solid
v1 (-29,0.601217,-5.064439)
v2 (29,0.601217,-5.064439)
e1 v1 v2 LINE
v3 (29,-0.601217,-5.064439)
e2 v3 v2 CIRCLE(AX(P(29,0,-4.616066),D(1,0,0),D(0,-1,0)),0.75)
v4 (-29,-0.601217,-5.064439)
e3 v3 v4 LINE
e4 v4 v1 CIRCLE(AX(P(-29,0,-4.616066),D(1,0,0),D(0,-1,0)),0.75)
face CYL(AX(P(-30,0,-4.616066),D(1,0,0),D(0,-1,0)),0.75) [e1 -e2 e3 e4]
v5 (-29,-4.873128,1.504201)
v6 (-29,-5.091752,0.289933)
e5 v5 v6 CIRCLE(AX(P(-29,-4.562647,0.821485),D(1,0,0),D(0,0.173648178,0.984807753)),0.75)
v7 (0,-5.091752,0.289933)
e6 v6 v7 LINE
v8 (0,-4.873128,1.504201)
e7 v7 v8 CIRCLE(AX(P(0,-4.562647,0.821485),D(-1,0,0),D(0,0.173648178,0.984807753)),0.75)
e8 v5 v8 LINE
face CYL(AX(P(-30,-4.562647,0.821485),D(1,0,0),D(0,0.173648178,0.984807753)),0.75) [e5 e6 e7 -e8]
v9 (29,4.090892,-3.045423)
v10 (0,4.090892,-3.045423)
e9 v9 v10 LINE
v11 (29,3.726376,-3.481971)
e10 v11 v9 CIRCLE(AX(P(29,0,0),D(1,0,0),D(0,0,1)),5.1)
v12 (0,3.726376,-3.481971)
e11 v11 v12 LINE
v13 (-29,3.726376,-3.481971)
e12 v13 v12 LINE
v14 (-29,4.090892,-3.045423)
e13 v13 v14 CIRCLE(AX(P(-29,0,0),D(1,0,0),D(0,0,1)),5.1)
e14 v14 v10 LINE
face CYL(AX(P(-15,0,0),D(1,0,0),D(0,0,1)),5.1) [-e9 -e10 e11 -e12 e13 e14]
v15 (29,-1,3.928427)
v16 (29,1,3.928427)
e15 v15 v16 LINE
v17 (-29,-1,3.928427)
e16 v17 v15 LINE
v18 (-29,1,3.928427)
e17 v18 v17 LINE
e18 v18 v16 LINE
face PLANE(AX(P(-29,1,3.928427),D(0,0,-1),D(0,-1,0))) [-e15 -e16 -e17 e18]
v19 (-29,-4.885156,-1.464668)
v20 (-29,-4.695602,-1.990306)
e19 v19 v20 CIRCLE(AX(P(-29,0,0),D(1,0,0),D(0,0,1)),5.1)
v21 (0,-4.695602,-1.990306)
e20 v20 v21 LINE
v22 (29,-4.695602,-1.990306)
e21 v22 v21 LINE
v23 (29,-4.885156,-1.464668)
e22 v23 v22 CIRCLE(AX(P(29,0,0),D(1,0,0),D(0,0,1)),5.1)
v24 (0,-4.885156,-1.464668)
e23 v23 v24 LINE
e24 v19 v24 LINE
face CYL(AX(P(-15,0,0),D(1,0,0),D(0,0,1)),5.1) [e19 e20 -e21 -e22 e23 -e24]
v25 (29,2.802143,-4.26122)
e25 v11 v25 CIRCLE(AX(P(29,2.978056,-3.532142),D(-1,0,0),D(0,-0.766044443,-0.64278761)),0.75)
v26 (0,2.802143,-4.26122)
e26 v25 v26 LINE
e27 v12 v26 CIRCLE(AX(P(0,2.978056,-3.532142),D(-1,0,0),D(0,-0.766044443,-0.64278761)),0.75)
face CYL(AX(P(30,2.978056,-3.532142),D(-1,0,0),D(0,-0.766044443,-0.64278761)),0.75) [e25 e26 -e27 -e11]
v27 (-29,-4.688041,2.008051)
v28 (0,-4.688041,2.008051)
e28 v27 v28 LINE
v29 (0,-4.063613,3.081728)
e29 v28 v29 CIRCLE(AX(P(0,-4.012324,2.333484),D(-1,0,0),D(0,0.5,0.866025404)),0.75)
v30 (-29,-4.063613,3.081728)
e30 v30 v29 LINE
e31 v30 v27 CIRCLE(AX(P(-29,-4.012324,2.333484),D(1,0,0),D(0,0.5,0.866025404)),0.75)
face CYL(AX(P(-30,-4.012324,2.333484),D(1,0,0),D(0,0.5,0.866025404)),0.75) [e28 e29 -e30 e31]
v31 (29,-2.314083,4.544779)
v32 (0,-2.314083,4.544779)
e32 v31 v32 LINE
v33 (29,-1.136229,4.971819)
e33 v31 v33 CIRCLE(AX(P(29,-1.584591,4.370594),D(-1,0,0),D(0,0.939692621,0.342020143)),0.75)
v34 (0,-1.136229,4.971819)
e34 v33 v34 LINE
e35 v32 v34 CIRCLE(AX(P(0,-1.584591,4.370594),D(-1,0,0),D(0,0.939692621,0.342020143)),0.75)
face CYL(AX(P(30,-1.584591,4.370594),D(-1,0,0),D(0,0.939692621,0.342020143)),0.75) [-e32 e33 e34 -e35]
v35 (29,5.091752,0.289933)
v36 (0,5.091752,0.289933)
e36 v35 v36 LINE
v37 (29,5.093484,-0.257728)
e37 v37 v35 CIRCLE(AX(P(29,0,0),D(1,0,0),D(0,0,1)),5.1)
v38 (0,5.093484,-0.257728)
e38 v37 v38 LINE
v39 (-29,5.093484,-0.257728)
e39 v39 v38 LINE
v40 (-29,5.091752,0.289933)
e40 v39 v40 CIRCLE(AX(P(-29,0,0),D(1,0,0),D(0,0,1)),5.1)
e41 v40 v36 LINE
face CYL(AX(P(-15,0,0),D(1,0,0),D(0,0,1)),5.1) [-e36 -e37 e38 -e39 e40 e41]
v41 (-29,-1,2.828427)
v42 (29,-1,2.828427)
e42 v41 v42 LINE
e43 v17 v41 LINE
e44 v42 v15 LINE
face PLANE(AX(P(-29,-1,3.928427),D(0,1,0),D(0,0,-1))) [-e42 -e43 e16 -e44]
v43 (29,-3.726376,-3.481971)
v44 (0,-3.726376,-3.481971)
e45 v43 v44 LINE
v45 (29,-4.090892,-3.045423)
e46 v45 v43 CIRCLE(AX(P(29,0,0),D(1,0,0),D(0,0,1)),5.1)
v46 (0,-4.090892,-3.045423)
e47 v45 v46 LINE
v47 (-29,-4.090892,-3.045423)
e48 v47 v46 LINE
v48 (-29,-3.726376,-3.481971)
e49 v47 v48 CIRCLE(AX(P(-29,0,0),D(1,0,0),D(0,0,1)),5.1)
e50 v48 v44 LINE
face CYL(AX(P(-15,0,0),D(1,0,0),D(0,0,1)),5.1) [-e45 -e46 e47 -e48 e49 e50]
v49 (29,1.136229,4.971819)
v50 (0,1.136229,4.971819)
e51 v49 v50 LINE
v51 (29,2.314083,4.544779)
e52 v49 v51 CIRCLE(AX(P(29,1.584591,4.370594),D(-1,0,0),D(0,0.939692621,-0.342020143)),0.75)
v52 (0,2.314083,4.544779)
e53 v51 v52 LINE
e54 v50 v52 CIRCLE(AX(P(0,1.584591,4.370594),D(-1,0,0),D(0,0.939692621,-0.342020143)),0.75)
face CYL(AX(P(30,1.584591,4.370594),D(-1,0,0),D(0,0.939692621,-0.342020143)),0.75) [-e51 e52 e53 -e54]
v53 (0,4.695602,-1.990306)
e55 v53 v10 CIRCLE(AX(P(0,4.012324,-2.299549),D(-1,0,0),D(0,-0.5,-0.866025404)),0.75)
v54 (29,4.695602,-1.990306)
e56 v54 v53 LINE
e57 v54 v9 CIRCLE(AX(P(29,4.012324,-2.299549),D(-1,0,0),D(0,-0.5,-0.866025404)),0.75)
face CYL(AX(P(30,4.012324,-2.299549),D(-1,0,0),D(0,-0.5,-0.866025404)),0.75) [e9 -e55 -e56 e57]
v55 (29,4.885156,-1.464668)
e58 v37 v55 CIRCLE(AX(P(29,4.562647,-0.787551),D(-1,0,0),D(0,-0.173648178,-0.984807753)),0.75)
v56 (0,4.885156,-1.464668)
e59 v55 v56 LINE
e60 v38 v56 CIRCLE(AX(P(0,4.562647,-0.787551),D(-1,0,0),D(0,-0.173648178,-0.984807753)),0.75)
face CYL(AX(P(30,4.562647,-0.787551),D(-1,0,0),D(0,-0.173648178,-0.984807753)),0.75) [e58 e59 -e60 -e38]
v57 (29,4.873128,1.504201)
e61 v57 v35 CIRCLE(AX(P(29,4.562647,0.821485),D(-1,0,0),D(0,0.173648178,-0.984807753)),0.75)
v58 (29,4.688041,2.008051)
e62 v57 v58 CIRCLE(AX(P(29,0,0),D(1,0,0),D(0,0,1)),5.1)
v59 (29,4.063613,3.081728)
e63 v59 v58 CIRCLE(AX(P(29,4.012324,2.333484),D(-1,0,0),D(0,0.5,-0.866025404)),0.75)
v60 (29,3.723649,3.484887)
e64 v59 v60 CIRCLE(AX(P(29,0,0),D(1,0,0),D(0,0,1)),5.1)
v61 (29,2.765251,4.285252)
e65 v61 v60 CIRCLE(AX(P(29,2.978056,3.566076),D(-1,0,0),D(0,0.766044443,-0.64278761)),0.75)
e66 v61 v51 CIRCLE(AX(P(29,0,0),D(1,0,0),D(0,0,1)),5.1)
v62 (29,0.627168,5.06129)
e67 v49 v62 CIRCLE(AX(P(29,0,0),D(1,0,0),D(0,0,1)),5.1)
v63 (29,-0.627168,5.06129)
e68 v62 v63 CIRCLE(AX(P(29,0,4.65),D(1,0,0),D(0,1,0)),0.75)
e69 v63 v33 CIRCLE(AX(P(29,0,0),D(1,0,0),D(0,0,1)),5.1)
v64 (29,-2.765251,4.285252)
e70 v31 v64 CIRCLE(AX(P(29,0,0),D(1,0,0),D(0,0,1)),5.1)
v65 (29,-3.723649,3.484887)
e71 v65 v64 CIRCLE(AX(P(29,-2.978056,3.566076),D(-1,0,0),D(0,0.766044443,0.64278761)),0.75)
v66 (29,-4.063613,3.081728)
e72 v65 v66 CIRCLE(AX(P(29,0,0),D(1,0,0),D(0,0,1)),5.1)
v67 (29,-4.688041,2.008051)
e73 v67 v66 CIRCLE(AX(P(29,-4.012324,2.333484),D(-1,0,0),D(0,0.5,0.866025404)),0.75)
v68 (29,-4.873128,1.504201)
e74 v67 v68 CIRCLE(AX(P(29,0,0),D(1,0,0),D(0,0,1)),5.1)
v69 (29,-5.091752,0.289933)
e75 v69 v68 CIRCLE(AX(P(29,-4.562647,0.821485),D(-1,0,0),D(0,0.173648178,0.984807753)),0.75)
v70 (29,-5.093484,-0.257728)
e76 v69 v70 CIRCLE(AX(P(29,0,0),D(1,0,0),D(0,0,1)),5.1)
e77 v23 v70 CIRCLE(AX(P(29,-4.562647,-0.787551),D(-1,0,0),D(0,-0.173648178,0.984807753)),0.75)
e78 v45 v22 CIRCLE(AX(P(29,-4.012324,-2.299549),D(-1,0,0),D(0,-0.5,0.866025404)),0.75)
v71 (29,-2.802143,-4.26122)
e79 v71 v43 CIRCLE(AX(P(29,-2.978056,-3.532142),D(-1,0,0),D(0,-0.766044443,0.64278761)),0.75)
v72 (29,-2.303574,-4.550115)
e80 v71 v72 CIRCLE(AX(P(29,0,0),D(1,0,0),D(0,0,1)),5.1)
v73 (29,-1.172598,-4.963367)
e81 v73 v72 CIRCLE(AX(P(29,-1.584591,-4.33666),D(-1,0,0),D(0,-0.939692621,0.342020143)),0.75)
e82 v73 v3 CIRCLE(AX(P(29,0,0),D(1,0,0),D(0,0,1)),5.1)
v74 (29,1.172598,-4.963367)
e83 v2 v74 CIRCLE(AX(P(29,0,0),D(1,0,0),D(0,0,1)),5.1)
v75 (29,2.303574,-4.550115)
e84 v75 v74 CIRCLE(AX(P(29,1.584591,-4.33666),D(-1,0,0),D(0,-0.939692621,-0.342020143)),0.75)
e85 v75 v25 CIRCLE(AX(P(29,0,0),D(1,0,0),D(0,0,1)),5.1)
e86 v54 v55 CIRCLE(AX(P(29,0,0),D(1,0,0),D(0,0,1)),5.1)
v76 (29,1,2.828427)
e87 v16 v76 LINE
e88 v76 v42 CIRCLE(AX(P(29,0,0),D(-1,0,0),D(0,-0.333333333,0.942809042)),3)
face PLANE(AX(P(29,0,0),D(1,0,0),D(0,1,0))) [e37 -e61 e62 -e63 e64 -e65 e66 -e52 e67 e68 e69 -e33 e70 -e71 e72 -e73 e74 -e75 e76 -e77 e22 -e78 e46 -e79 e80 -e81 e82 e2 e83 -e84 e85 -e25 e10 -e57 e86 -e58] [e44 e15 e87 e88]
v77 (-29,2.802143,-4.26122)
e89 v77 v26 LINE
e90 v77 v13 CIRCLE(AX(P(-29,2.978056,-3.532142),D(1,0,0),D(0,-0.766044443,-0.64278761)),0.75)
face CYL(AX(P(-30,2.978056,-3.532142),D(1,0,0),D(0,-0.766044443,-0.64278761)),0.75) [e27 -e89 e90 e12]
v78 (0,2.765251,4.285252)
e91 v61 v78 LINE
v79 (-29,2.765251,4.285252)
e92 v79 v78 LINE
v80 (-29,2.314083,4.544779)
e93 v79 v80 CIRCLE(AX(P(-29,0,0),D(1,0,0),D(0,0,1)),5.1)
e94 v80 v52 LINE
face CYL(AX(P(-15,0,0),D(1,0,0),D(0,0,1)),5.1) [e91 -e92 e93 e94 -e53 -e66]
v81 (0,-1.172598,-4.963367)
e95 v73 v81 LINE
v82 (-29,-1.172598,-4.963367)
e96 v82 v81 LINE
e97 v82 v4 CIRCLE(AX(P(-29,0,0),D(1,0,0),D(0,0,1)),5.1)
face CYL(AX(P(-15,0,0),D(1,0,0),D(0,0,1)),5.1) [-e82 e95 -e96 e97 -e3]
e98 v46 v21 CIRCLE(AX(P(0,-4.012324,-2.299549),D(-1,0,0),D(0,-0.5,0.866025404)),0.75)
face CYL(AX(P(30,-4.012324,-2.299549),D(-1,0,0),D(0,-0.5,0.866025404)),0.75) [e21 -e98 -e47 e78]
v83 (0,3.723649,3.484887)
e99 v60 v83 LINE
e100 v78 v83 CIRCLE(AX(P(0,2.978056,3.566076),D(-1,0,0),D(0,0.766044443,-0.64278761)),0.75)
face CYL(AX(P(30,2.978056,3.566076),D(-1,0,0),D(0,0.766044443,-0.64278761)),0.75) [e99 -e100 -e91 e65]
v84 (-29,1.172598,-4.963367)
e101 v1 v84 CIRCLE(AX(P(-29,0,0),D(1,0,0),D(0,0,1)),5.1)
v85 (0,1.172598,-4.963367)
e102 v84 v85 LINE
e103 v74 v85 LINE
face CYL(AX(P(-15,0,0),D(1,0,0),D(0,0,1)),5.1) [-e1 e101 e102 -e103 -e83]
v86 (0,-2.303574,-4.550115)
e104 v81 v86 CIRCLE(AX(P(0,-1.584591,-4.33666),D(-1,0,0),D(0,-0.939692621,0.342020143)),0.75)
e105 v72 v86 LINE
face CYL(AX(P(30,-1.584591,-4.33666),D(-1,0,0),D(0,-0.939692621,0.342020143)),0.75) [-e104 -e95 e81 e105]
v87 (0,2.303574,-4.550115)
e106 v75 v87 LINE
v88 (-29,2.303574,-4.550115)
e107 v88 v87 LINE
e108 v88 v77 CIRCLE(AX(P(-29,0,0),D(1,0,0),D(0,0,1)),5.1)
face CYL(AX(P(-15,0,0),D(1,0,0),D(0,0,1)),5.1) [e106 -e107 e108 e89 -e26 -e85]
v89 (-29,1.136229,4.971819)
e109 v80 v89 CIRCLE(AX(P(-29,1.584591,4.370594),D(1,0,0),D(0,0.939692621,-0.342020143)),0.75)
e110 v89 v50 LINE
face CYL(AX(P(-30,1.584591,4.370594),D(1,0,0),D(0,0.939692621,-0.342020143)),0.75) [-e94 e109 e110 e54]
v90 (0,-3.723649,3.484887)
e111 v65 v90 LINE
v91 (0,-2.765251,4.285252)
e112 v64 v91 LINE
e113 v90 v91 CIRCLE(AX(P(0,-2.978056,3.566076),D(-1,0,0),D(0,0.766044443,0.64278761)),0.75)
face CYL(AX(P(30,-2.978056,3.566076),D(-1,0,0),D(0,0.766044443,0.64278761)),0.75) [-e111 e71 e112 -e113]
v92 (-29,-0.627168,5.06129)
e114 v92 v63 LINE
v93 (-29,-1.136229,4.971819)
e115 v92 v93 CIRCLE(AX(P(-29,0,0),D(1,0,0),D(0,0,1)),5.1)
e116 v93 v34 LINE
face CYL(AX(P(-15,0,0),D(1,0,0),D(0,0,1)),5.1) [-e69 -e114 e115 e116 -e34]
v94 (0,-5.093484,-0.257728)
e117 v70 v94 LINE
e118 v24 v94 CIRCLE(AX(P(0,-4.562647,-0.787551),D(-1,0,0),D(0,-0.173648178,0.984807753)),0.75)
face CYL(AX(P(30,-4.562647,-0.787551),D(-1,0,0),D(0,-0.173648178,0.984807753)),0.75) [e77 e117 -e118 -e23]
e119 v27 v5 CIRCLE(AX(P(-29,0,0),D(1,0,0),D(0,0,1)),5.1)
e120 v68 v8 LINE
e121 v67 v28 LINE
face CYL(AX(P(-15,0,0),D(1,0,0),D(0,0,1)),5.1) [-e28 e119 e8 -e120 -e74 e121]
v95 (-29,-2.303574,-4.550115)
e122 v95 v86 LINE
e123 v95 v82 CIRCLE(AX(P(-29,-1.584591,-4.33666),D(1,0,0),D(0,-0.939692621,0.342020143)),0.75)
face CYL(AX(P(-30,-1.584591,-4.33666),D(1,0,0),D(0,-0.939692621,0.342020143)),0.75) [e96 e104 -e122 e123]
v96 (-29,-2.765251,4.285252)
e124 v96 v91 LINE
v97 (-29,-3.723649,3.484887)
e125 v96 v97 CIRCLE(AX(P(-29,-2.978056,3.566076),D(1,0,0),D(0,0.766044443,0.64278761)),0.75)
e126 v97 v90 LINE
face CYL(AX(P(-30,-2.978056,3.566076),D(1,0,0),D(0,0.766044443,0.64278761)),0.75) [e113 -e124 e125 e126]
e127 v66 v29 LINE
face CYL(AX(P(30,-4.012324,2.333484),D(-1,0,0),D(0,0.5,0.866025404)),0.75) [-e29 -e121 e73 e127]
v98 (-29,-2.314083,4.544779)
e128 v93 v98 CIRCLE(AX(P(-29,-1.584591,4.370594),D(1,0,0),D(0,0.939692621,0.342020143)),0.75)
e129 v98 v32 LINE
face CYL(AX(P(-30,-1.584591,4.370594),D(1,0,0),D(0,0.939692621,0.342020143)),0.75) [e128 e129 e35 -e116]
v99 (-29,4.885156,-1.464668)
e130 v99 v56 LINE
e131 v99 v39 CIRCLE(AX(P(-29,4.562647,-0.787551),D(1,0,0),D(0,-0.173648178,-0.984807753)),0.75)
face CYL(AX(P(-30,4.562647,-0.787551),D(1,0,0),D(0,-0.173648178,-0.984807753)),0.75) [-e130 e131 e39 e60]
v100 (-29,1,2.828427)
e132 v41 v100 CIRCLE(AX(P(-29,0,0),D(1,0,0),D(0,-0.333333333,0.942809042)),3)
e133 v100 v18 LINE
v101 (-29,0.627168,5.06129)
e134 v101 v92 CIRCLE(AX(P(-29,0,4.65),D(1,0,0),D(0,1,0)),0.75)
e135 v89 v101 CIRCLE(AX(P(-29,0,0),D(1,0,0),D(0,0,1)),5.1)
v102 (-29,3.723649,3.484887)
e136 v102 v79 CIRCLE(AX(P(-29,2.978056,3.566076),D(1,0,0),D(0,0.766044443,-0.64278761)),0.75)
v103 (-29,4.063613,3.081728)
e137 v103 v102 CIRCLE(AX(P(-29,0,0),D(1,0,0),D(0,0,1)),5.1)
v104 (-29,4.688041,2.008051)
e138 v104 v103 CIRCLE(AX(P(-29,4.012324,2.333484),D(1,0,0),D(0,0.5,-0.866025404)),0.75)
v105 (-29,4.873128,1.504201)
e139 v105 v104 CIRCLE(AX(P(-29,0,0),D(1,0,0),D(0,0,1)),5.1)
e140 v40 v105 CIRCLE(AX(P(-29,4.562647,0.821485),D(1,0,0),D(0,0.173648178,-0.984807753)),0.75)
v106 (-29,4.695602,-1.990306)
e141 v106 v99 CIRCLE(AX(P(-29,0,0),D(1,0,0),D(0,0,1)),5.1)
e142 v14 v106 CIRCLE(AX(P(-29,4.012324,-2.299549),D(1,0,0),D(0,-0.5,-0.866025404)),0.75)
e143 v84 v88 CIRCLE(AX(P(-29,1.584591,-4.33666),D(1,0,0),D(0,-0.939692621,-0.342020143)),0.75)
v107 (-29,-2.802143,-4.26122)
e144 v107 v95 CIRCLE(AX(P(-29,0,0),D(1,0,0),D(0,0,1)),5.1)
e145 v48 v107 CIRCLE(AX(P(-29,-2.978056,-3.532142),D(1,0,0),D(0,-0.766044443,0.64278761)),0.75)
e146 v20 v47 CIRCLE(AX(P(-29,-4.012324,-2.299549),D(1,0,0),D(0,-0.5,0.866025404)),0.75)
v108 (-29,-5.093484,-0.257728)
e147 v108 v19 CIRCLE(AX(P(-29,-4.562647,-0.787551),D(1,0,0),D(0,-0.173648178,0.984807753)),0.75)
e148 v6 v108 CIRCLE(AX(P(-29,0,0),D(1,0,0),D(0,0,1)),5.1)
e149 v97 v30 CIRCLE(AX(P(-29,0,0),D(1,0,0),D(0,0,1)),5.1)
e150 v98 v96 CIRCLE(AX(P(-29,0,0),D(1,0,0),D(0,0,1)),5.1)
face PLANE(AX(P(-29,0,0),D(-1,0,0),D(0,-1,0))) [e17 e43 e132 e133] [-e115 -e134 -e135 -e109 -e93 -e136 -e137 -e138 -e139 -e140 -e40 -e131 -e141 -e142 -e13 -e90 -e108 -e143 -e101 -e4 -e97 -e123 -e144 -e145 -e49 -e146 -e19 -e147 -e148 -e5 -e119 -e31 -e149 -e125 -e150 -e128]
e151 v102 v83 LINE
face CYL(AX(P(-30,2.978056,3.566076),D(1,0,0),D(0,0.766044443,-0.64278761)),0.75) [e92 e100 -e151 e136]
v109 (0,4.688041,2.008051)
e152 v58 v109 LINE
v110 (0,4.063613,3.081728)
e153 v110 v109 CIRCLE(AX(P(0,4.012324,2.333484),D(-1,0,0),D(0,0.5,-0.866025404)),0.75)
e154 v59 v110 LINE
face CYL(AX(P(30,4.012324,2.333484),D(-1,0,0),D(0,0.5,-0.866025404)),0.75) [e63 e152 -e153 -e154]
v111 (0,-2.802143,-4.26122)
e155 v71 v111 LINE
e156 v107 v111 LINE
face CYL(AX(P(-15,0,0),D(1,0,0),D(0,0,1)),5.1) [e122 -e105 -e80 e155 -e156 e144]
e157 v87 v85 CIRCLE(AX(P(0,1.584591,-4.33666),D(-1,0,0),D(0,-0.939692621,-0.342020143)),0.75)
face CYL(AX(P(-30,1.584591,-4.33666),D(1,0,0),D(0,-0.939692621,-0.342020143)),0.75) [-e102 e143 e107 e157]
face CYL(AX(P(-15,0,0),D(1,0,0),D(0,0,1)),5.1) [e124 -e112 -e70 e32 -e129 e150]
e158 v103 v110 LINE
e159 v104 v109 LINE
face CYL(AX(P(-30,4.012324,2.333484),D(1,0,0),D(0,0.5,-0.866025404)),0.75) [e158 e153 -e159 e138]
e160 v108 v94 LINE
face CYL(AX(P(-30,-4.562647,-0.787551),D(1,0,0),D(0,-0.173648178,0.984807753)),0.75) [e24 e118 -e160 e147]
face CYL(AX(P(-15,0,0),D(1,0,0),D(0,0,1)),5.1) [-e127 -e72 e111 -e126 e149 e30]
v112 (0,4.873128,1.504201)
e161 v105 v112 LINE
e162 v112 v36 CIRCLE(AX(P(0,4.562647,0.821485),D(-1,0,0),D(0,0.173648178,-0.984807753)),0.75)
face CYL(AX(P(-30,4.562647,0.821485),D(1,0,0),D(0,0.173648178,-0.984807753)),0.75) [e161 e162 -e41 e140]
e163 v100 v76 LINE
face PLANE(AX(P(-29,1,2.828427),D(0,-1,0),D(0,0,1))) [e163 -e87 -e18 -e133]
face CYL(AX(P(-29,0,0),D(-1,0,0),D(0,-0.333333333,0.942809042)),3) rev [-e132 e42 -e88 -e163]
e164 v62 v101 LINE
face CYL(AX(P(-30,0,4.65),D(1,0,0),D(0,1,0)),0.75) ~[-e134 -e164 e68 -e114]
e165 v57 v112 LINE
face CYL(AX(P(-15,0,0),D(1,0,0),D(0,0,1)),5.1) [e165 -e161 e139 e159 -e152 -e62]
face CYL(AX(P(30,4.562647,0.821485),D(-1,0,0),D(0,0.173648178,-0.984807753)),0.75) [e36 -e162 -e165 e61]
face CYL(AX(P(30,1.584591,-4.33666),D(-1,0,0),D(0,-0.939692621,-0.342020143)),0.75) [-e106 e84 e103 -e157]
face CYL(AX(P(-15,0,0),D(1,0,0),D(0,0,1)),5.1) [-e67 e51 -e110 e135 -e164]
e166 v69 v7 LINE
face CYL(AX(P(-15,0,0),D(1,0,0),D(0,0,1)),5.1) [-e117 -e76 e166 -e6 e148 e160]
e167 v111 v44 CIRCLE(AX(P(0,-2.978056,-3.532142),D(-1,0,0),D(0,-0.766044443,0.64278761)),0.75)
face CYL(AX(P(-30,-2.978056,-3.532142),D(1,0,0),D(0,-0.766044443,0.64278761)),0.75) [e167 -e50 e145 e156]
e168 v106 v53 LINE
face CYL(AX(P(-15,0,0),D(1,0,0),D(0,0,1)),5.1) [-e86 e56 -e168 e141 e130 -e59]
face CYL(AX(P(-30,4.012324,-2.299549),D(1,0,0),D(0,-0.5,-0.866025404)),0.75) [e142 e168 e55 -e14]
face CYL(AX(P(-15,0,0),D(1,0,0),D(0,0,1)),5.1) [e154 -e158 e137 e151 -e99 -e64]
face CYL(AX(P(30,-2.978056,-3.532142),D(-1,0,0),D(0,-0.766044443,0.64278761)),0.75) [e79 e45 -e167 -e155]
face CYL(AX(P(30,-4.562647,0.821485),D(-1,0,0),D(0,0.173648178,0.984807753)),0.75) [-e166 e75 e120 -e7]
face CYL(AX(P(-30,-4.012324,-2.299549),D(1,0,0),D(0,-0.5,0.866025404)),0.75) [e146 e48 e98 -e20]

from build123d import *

# Parameters (mm, degrees)
SKETCH1_W               = 30
SKETCH1_H               = 5.1
CIRPATTERN1_COUNT       = 18
CUT_EXTRUDE2_DEPTH      = 1
CUT_EXTRUDE2_DEPTH_BACK = 1
SKETCH13_R              = 5.864313224
CUT_EXTRUDE3_DEPTH      = 1
CUT_EXTRUDE3_DEPTH_BACK = 1
SKETCH14_R              = 6.155891313
CUT_EXTRUDE4_DEPTH      = 59.492599661


with BuildPart() as part:
    # Sketch1 → Revolve1 (revolve)
    with BuildSketch(Plane(origin=(0, 0, 0), x_dir=(-1, 0, 0), z_dir=(0, 1, 0))):
        with Locations((-15, 2.55)):
            Rectangle(SKETCH1_W, SKETCH1_H)
    revolve1 = revolve(axis=Axis((0, 0, 0), (1, 0, 0)))

    # Sweep3: sweep along a path in Sketch2
    with BuildLine(Plane(origin=(0, 0, 0), x_dir=(-1, 0, 0), z_dir=(0, 1, 0))) as sweep3_path:
        Line((-30, 5.1), (0, 5.1))
    # Sketch3 → Sweep3 (sweep)
    with BuildSketch(Plane(origin=(0, 0, 0), x_dir=(0, -1, 0), z_dir=(-1, 0, 0))):
        with BuildLine():
            Line((0.75, 4.65), (0.75, 2.55))
            ThreePointArc((0.75, 2.55), (0, 1.8), (-0.75, 2.55))
            Line((-0.75, 2.55), (-0.75, 4.65))
            ThreePointArc((-0.75, 4.65), (0, 5.4), (0.75, 4.65))
        make_face()
    sweep3 = sweep(path=sweep3_path.line)

    # CirPattern1: Sweep3 ×18 about axis
    cirpattern1_axis = Axis((0, 0, 0.01696711), (1, 0, 0))
    for i in range(1, CIRPATTERN1_COUNT):
        add(sweep3.rotate(cirpattern1_axis, i * 360 / CIRPATTERN1_COUNT))

    # Mirror1: Revolve1, Sweep3 across plane
    add(revolve1.mirror(Plane(origin=(0, 0, 0), x_dir=(0, 0, 1), z_dir=(1, 0, 0))))
    add(sweep3.mirror(Plane(origin=(0, 0, 0), x_dir=(0, 0, 1), z_dir=(1, 0, 0))))

    # Mirror1 copy 1: sweep along a path in Mirror1 copy 1 path
    with BuildLine(Plane(origin=(0, 0.005803093, 0.001023242), x_dir=(1, 0, 0), z_dir=(0, 0.9396926207859084, 0.3420201433256687))) as mirror1_copy_1_path:
        Line((-30, -5.1), (0, -5.1))
    # Mirror1 copy 1 sketch → Mirror1 copy 1 (sweep)
    with BuildSketch(Plane(origin=(0, 0.005803093, 0.001023242), x_dir=(0, -0.9396926207859084, -0.3420201433256687), z_dir=(1, 0, 0))):
        with BuildLine():
            Line((0.75, -4.65), (0.75, -2.55))
            ThreePointArc((0.75, -2.55), (0, -1.8), (-0.75, -2.55))
            Line((-0.75, -2.55), (-0.75, -4.65))
            ThreePointArc((-0.75, -4.65), (0, -5.4), (0.75, -4.65))
        make_face()
    sweep(path=mirror1_copy_1_path.line)

    # Mirror1 copy 2: sweep along a path in Mirror1 copy 2 path
    with BuildLine(Plane(origin=(0, 0.010906248, 0.00396955), x_dir=(1, 0, 0), z_dir=(0, 0.766044443118978, 0.6427876096865393))) as mirror1_copy_2_path:
        Line((-30, -5.1), (0, -5.1))
    # Mirror1 copy 2 sketch → Mirror1 copy 2 (sweep)
    with BuildSketch(Plane(origin=(0, 0.010906248, 0.00396955), x_dir=(0, -0.766044443118978, -0.6427876096865393), z_dir=(1, 0, 0))):
        with BuildLine():
            Line((0.75, -4.65), (0.75, -2.55))
            ThreePointArc((0.75, -2.55), (0, -1.8), (-0.75, -2.55))
            Line((-0.75, -2.55), (-0.75, -4.65))
            ThreePointArc((-0.75, -4.65), (0, -5.4), (0.75, -4.65))
        make_face()
    sweep(path=mirror1_copy_2_path.line)

    # Mirror1 copy 3: sweep along a path in Mirror1 copy 3 path
    with BuildLine(Plane(origin=(0, 0.014693948, 0.008483555), x_dir=(1, 0, 0), z_dir=(0, 0.5000000000000001, 0.8660254037844386))) as mirror1_copy_3_path:
        Line((-30, -5.1), (0, -5.1))
    # Mirror1 copy 3 sketch → Mirror1 copy 3 (sweep)
    with BuildSketch(Plane(origin=(0, 0.014693948, 0.008483555), x_dir=(0, -0.5000000000000001, -0.8660254037844386), z_dir=(1, 0, 0))):
        with BuildLine():
            Line((0.75, -4.65), (0.75, -2.55))
            ThreePointArc((0.75, -2.55), (0, -1.8), (-0.75, -2.55))
            Line((-0.75, -2.55), (-0.75, -4.65))
            ThreePointArc((-0.75, -4.65), (0, -5.4), (0.75, -4.65))
        make_face()
    sweep(path=mirror1_copy_3_path.line)

    # Mirror1 copy 4: sweep along a path in Mirror1 copy 4 path
    with BuildLine(Plane(origin=(0, 0.016709341, 0.014020802), x_dir=(1, 0, 0), z_dir=(0, 0.17364817766693041, 0.984807753012208))) as mirror1_copy_4_path:
        Line((-30, -5.1), (0, -5.1))
    # Mirror1 copy 4 sketch → Mirror1 copy 4 (sweep)
    with BuildSketch(Plane(origin=(0, 0.016709341, 0.014020802), x_dir=(0, -0.17364817766693041, -0.984807753012208), z_dir=(1, 0, 0))):
        with BuildLine():
            Line((0.75, -4.65), (0.75, -2.55))
            ThreePointArc((0.75, -2.55), (0, -1.8), (-0.75, -2.55))
            Line((-0.75, -2.55), (-0.75, -4.65))
            ThreePointArc((-0.75, -4.65), (0, -5.4), (0.75, -4.65))
        make_face()
    sweep(path=mirror1_copy_4_path.line)

    # Mirror1 copy 5: sweep along a path in Mirror1 copy 5 path
    with BuildLine(Plane(origin=(0, 0.016709341, 0.019913417), x_dir=(1, 0, 0), z_dir=(0, -0.1736481776669303, 0.984807753012208))) as mirror1_copy_5_path:
        Line((-30, -5.1), (0, -5.1))
    # Mirror1 copy 5 sketch → Mirror1 copy 5 (sweep)
    with BuildSketch(Plane(origin=(0, 0.016709341, 0.019913417), x_dir=(0, 0.1736481776669303, -0.984807753012208), z_dir=(1, 0, 0))):
        with BuildLine():
            Line((0.75, -4.65), (0.75, -2.55))
            ThreePointArc((0.75, -2.55), (0, -1.8), (-0.75, -2.55))
            Line((-0.75, -2.55), (-0.75, -4.65))
            ThreePointArc((-0.75, -4.65), (0, -5.4), (0.75, -4.65))
        make_face()
    sweep(path=mirror1_copy_5_path.line)

    # Mirror1 copy 6: sweep along a path in Mirror1 copy 6 path
    with BuildLine(Plane(origin=(0, 0.014693948, 0.025450665), x_dir=(1, 0, 0), z_dir=(0, -0.4999999999999998, 0.8660254037844387))) as mirror1_copy_6_path:
        Line((-30, -5.1), (0, -5.1))
    # Mirror1 copy 6 sketch → Mirror1 copy 6 (sweep)
    with BuildSketch(Plane(origin=(0, 0.014693948, 0.025450665), x_dir=(0, 0.4999999999999998, -0.8660254037844387), z_dir=(1, 0, 0))):
        with BuildLine():
            Line((0.75, -4.65), (0.75, -2.55))
            ThreePointArc((0.75, -2.55), (0, -1.8), (-0.75, -2.55))
            Line((-0.75, -2.55), (-0.75, -4.65))
            ThreePointArc((-0.75, -4.65), (0, -5.4), (0.75, -4.65))
        make_face()
    sweep(path=mirror1_copy_6_path.line)

    # Mirror1 copy 7: sweep along a path in Mirror1 copy 7 path
    with BuildLine(Plane(origin=(0, 0.010906248, 0.02996467), x_dir=(1, 0, 0), z_dir=(0, -0.7660444431189779, 0.6427876096865395))) as mirror1_copy_7_path:
        Line((-30, -5.1), (0, -5.1))
    # Mirror1 copy 7 sketch → Mirror1 copy 7 (sweep)
    with BuildSketch(Plane(origin=(0, 0.010906248, 0.02996467), x_dir=(0, 0.7660444431189779, -0.6427876096865395), z_dir=(1, 0, 0))):
        with BuildLine():
            Line((0.75, -4.65), (0.75, -2.55))
            ThreePointArc((0.75, -2.55), (0, -1.8), (-0.75, -2.55))
            Line((-0.75, -2.55), (-0.75, -4.65))
            ThreePointArc((-0.75, -4.65), (0, -5.4), (0.75, -4.65))
        make_face()
    sweep(path=mirror1_copy_7_path.line)

    # Mirror1 copy 8: sweep along a path in Mirror1 copy 8 path
    with BuildLine(Plane(origin=(0, 0.005803093, 0.032910978), x_dir=(1, 0, 0), z_dir=(0, -0.9396926207859083, 0.3420201433256689))) as mirror1_copy_8_path:
        Line((-30, -5.1), (0, -5.1))
    # Mirror1 copy 8 sketch → Mirror1 copy 8 (sweep)
    with BuildSketch(Plane(origin=(0, 0.005803093, 0.032910978), x_dir=(0, 0.9396926207859083, -0.3420201433256689), z_dir=(1, 0, 0))):
        with BuildLine():
            Line((0.75, -4.65), (0.75, -2.55))
            ThreePointArc((0.75, -2.55), (0, -1.8), (-0.75, -2.55))
            Line((-0.75, -2.55), (-0.75, -4.65))
            ThreePointArc((-0.75, -4.65), (0, -5.4), (0.75, -4.65))
        make_face()
    sweep(path=mirror1_copy_8_path.line)

    # Mirror1 copy 9: sweep along a path in Mirror1 copy 9 path
    with BuildLine(Plane(origin=(0, 0, 0.03393422), x_dir=(1, 0, 0), z_dir=(0, -1, 0))) as mirror1_copy_9_path:
        Line((-30, -5.1), (0, -5.1))
    # Mirror1 copy 9 sketch → Mirror1 copy 9 (sweep)
    with BuildSketch(Plane(origin=(0, 0, 0.03393422), x_dir=(0, 1, 0), z_dir=(1, 0, 0))):
        with BuildLine():
            Line((0.75, -4.65), (0.75, -2.55))
            ThreePointArc((0.75, -2.55), (0, -1.8), (-0.75, -2.55))
            Line((-0.75, -2.55), (-0.75, -4.65))
            ThreePointArc((-0.75, -4.65), (0, -5.4), (0.75, -4.65))
        make_face()
    sweep(path=mirror1_copy_9_path.line)

    # Mirror1 copy 10: sweep along a path in Mirror1 copy 10 path
    with BuildLine(Plane(origin=(0, -0.005803093, 0.032910978), x_dir=(1, 0, 0), z_dir=(0, -0.9396926207859084, -0.34202014332566866))) as mirror1_copy_10_path:
        Line((-30, -5.1), (0, -5.1))
    # Mirror1 copy 10 sketch → Mirror1 copy 10 (sweep)
    with BuildSketch(Plane(origin=(0, -0.005803093, 0.032910978), x_dir=(0, 0.9396926207859084, 0.34202014332566866), z_dir=(1, 0, 0))):
        with BuildLine():
            Line((0.75, -4.65), (0.75, -2.55))
            ThreePointArc((0.75, -2.55), (0, -1.8), (-0.75, -2.55))
            Line((-0.75, -2.55), (-0.75, -4.65))
            ThreePointArc((-0.75, -4.65), (0, -5.4), (0.75, -4.65))
        make_face()
    sweep(path=mirror1_copy_10_path.line)

    # Mirror1 copy 11: sweep along a path in Mirror1 copy 11 path
    with BuildLine(Plane(origin=(0, -0.010906248, 0.02996467), x_dir=(1, 0, 0), z_dir=(0, -0.766044443118978, -0.6427876096865393))) as mirror1_copy_11_path:
        Line((-30, -5.1), (0, -5.1))
    # Mirror1 copy 11 sketch → Mirror1 copy 11 (sweep)
    with BuildSketch(Plane(origin=(0, -0.010906248, 0.02996467), x_dir=(0, 0.766044443118978, 0.6427876096865393), z_dir=(1, 0, 0))):
        with BuildLine():
            Line((0.75, -4.65), (0.75, -2.55))
            ThreePointArc((0.75, -2.55), (0, -1.8), (-0.75, -2.55))
            Line((-0.75, -2.55), (-0.75, -4.65))
            ThreePointArc((-0.75, -4.65), (0, -5.4), (0.75, -4.65))
        make_face()
    sweep(path=mirror1_copy_11_path.line)

    # Mirror1 copy 12: sweep along a path in Mirror1 copy 12 path
    with BuildLine(Plane(origin=(0, -0.014693948, 0.025450665), x_dir=(1, 0, 0), z_dir=(0, -0.5000000000000004, -0.8660254037844384))) as mirror1_copy_12_path:
        Line((-30, -5.1), (0, -5.1))
    # Mirror1 copy 12 sketch → Mirror1 copy 12 (sweep)
    with BuildSketch(Plane(origin=(0, -0.014693948, 0.025450665), x_dir=(0, 0.5000000000000004, 0.8660254037844384), z_dir=(1, 0, 0))):
        with BuildLine():
            Line((0.75, -4.65), (0.75, -2.55))
            ThreePointArc((0.75, -2.55), (0, -1.8), (-0.75, -2.55))
            Line((-0.75, -2.55), (-0.75, -4.65))
            ThreePointArc((-0.75, -4.65), (0, -5.4), (0.75, -4.65))
        make_face()
    sweep(path=mirror1_copy_12_path.line)

    # Mirror1 copy 13: sweep along a path in Mirror1 copy 13 path
    with BuildLine(Plane(origin=(0, -0.016709341, 0.019913417), x_dir=(1, 0, 0), z_dir=(0, -0.17364817766693033, -0.984807753012208))) as mirror1_copy_13_path:
        Line((-30, -5.1), (0, -5.1))
    # Mirror1 copy 13 sketch → Mirror1 copy 13 (sweep)
    with BuildSketch(Plane(origin=(0, -0.016709341, 0.019913417), x_dir=(0, 0.17364817766693033, 0.984807753012208), z_dir=(1, 0, 0))):
        with BuildLine():
            Line((0.75, -4.65), (0.75, -2.55))
            ThreePointArc((0.75, -2.55), (0, -1.8), (-0.75, -2.55))
            Line((-0.75, -2.55), (-0.75, -4.65))
            ThreePointArc((-0.75, -4.65), (0, -5.4), (0.75, -4.65))
        make_face()
    sweep(path=mirror1_copy_13_path.line)

    # Mirror1 copy 14: sweep along a path in Mirror1 copy 14 path
    with BuildLine(Plane(origin=(0, -0.016709341, 0.014020802), x_dir=(1, 0, 0), z_dir=(0, 0.17364817766692997, -0.9848077530122081))) as mirror1_copy_14_path:
        Line((-30, -5.1), (0, -5.1))
    # Mirror1 copy 14 sketch → Mirror1 copy 14 (sweep)
    with BuildSketch(Plane(origin=(0, -0.016709341, 0.014020802), x_dir=(0, -0.17364817766692997, 0.9848077530122081), z_dir=(1, 0, 0))):
        with BuildLine():
            Line((0.75, -4.65), (0.75, -2.55))
            ThreePointArc((0.75, -2.55), (0, -1.8), (-0.75, -2.55))
            Line((-0.75, -2.55), (-0.75, -4.65))
            ThreePointArc((-0.75, -4.65), (0, -5.4), (0.75, -4.65))
        make_face()
    sweep(path=mirror1_copy_14_path.line)

    # Mirror1 copy 15: sweep along a path in Mirror1 copy 15 path
    with BuildLine(Plane(origin=(0, -0.014693948, 0.008483555), x_dir=(1, 0, 0), z_dir=(0, 0.5000000000000001, -0.8660254037844386))) as mirror1_copy_15_path:
        Line((-30, -5.1), (0, -5.1))
    # Mirror1 copy 15 sketch → Mirror1 copy 15 (sweep)
    with BuildSketch(Plane(origin=(0, -0.014693948, 0.008483555), x_dir=(0, -0.5000000000000001, 0.8660254037844386), z_dir=(1, 0, 0))):
        with BuildLine():
            Line((0.75, -4.65), (0.75, -2.55))
            ThreePointArc((0.75, -2.55), (0, -1.8), (-0.75, -2.55))
            Line((-0.75, -2.55), (-0.75, -4.65))
            ThreePointArc((-0.75, -4.65), (0, -5.4), (0.75, -4.65))
        make_face()
    sweep(path=mirror1_copy_15_path.line)

    # Mirror1 copy 16: sweep along a path in Mirror1 copy 16 path
    with BuildLine(Plane(origin=(0, -0.010906248, 0.00396955), x_dir=(1, 0, 0), z_dir=(0, 0.7660444431189778, -0.6427876096865396))) as mirror1_copy_16_path:
        Line((-30, -5.1), (0, -5.1))
    # Mirror1 copy 16 sketch → Mirror1 copy 16 (sweep)
    with BuildSketch(Plane(origin=(0, -0.010906248, 0.00396955), x_dir=(0, -0.7660444431189778, 0.6427876096865396), z_dir=(1, 0, 0))):
        with BuildLine():
            Line((0.75, -4.65), (0.75, -2.55))
            ThreePointArc((0.75, -2.55), (0, -1.8), (-0.75, -2.55))
            Line((-0.75, -2.55), (-0.75, -4.65))
            ThreePointArc((-0.75, -4.65), (0, -5.4), (0.75, -4.65))
        make_face()
    sweep(path=mirror1_copy_16_path.line)

    # Mirror1 copy 17: sweep along a path in Mirror1 copy 17 path
    with BuildLine(Plane(origin=(0, -0.005803093, 0.001023242), x_dir=(1, 0, 0), z_dir=(0, 0.9396926207859084, -0.3420201433256686))) as mirror1_copy_17_path:
        Line((-30, -5.1), (0, -5.1))
    # Mirror1 copy 17 sketch → Mirror1 copy 17 (sweep)
    with BuildSketch(Plane(origin=(0, -0.005803093, 0.001023242), x_dir=(0, -0.9396926207859084, 0.3420201433256686), z_dir=(1, 0, 0))):
        with BuildLine():
            Line((0.75, -4.65), (0.75, -2.55))
            ThreePointArc((0.75, -2.55), (0, -1.8), (-0.75, -2.55))
            Line((-0.75, -2.55), (-0.75, -4.65))
            ThreePointArc((-0.75, -4.65), (0, -5.4), (0.75, -4.65))
        make_face()
    sweep(path=mirror1_copy_17_path.line)

    # Sketch13 → Cut-Extrude2 (cut, two sides: drawn at the far end of the back side and taken through both)
    with BuildSketch(Plane(origin=(-30, 0, 0), x_dir=(0, -1, 0), z_dir=(-1, 0, 0)).offset(-CUT_EXTRUDE2_DEPTH_BACK)):
        Circle(SKETCH13_R)
    extrude(amount=CUT_EXTRUDE2_DEPTH + CUT_EXTRUDE2_DEPTH_BACK, mode=Mode.SUBTRACT)

    # Sketch14 → Cut-Extrude3 (cut, two sides: drawn at the far end of the back side and taken through both)
    with BuildSketch(Plane.YZ.offset(30).offset(-CUT_EXTRUDE3_DEPTH_BACK)):
        Circle(SKETCH14_R)
    extrude(amount=CUT_EXTRUDE3_DEPTH + CUT_EXTRUDE3_DEPTH_BACK, mode=Mode.SUBTRACT)

    # Sketch15 → Cut-Extrude4 (cut, through all)
    with BuildSketch(Plane(origin=(-29, 0, 0), x_dir=(0, -1, 0), z_dir=(-1, 0, 0))):
        with BuildLine():
            Line((-1, 3.928427125), (1, 3.928427125))
            Line((1, 3.928427125), (1, 2.828427125))
            ThreePointArc((1, 2.828427125), (0, -3), (-1, 2.828427125))
            Line((-1, 2.828427125), (-1, 3.928427125))
        make_face()
    extrude(amount=-CUT_EXTRUDE4_DEPTH, mode=Mode.SUBTRACT)


solid = part.part
